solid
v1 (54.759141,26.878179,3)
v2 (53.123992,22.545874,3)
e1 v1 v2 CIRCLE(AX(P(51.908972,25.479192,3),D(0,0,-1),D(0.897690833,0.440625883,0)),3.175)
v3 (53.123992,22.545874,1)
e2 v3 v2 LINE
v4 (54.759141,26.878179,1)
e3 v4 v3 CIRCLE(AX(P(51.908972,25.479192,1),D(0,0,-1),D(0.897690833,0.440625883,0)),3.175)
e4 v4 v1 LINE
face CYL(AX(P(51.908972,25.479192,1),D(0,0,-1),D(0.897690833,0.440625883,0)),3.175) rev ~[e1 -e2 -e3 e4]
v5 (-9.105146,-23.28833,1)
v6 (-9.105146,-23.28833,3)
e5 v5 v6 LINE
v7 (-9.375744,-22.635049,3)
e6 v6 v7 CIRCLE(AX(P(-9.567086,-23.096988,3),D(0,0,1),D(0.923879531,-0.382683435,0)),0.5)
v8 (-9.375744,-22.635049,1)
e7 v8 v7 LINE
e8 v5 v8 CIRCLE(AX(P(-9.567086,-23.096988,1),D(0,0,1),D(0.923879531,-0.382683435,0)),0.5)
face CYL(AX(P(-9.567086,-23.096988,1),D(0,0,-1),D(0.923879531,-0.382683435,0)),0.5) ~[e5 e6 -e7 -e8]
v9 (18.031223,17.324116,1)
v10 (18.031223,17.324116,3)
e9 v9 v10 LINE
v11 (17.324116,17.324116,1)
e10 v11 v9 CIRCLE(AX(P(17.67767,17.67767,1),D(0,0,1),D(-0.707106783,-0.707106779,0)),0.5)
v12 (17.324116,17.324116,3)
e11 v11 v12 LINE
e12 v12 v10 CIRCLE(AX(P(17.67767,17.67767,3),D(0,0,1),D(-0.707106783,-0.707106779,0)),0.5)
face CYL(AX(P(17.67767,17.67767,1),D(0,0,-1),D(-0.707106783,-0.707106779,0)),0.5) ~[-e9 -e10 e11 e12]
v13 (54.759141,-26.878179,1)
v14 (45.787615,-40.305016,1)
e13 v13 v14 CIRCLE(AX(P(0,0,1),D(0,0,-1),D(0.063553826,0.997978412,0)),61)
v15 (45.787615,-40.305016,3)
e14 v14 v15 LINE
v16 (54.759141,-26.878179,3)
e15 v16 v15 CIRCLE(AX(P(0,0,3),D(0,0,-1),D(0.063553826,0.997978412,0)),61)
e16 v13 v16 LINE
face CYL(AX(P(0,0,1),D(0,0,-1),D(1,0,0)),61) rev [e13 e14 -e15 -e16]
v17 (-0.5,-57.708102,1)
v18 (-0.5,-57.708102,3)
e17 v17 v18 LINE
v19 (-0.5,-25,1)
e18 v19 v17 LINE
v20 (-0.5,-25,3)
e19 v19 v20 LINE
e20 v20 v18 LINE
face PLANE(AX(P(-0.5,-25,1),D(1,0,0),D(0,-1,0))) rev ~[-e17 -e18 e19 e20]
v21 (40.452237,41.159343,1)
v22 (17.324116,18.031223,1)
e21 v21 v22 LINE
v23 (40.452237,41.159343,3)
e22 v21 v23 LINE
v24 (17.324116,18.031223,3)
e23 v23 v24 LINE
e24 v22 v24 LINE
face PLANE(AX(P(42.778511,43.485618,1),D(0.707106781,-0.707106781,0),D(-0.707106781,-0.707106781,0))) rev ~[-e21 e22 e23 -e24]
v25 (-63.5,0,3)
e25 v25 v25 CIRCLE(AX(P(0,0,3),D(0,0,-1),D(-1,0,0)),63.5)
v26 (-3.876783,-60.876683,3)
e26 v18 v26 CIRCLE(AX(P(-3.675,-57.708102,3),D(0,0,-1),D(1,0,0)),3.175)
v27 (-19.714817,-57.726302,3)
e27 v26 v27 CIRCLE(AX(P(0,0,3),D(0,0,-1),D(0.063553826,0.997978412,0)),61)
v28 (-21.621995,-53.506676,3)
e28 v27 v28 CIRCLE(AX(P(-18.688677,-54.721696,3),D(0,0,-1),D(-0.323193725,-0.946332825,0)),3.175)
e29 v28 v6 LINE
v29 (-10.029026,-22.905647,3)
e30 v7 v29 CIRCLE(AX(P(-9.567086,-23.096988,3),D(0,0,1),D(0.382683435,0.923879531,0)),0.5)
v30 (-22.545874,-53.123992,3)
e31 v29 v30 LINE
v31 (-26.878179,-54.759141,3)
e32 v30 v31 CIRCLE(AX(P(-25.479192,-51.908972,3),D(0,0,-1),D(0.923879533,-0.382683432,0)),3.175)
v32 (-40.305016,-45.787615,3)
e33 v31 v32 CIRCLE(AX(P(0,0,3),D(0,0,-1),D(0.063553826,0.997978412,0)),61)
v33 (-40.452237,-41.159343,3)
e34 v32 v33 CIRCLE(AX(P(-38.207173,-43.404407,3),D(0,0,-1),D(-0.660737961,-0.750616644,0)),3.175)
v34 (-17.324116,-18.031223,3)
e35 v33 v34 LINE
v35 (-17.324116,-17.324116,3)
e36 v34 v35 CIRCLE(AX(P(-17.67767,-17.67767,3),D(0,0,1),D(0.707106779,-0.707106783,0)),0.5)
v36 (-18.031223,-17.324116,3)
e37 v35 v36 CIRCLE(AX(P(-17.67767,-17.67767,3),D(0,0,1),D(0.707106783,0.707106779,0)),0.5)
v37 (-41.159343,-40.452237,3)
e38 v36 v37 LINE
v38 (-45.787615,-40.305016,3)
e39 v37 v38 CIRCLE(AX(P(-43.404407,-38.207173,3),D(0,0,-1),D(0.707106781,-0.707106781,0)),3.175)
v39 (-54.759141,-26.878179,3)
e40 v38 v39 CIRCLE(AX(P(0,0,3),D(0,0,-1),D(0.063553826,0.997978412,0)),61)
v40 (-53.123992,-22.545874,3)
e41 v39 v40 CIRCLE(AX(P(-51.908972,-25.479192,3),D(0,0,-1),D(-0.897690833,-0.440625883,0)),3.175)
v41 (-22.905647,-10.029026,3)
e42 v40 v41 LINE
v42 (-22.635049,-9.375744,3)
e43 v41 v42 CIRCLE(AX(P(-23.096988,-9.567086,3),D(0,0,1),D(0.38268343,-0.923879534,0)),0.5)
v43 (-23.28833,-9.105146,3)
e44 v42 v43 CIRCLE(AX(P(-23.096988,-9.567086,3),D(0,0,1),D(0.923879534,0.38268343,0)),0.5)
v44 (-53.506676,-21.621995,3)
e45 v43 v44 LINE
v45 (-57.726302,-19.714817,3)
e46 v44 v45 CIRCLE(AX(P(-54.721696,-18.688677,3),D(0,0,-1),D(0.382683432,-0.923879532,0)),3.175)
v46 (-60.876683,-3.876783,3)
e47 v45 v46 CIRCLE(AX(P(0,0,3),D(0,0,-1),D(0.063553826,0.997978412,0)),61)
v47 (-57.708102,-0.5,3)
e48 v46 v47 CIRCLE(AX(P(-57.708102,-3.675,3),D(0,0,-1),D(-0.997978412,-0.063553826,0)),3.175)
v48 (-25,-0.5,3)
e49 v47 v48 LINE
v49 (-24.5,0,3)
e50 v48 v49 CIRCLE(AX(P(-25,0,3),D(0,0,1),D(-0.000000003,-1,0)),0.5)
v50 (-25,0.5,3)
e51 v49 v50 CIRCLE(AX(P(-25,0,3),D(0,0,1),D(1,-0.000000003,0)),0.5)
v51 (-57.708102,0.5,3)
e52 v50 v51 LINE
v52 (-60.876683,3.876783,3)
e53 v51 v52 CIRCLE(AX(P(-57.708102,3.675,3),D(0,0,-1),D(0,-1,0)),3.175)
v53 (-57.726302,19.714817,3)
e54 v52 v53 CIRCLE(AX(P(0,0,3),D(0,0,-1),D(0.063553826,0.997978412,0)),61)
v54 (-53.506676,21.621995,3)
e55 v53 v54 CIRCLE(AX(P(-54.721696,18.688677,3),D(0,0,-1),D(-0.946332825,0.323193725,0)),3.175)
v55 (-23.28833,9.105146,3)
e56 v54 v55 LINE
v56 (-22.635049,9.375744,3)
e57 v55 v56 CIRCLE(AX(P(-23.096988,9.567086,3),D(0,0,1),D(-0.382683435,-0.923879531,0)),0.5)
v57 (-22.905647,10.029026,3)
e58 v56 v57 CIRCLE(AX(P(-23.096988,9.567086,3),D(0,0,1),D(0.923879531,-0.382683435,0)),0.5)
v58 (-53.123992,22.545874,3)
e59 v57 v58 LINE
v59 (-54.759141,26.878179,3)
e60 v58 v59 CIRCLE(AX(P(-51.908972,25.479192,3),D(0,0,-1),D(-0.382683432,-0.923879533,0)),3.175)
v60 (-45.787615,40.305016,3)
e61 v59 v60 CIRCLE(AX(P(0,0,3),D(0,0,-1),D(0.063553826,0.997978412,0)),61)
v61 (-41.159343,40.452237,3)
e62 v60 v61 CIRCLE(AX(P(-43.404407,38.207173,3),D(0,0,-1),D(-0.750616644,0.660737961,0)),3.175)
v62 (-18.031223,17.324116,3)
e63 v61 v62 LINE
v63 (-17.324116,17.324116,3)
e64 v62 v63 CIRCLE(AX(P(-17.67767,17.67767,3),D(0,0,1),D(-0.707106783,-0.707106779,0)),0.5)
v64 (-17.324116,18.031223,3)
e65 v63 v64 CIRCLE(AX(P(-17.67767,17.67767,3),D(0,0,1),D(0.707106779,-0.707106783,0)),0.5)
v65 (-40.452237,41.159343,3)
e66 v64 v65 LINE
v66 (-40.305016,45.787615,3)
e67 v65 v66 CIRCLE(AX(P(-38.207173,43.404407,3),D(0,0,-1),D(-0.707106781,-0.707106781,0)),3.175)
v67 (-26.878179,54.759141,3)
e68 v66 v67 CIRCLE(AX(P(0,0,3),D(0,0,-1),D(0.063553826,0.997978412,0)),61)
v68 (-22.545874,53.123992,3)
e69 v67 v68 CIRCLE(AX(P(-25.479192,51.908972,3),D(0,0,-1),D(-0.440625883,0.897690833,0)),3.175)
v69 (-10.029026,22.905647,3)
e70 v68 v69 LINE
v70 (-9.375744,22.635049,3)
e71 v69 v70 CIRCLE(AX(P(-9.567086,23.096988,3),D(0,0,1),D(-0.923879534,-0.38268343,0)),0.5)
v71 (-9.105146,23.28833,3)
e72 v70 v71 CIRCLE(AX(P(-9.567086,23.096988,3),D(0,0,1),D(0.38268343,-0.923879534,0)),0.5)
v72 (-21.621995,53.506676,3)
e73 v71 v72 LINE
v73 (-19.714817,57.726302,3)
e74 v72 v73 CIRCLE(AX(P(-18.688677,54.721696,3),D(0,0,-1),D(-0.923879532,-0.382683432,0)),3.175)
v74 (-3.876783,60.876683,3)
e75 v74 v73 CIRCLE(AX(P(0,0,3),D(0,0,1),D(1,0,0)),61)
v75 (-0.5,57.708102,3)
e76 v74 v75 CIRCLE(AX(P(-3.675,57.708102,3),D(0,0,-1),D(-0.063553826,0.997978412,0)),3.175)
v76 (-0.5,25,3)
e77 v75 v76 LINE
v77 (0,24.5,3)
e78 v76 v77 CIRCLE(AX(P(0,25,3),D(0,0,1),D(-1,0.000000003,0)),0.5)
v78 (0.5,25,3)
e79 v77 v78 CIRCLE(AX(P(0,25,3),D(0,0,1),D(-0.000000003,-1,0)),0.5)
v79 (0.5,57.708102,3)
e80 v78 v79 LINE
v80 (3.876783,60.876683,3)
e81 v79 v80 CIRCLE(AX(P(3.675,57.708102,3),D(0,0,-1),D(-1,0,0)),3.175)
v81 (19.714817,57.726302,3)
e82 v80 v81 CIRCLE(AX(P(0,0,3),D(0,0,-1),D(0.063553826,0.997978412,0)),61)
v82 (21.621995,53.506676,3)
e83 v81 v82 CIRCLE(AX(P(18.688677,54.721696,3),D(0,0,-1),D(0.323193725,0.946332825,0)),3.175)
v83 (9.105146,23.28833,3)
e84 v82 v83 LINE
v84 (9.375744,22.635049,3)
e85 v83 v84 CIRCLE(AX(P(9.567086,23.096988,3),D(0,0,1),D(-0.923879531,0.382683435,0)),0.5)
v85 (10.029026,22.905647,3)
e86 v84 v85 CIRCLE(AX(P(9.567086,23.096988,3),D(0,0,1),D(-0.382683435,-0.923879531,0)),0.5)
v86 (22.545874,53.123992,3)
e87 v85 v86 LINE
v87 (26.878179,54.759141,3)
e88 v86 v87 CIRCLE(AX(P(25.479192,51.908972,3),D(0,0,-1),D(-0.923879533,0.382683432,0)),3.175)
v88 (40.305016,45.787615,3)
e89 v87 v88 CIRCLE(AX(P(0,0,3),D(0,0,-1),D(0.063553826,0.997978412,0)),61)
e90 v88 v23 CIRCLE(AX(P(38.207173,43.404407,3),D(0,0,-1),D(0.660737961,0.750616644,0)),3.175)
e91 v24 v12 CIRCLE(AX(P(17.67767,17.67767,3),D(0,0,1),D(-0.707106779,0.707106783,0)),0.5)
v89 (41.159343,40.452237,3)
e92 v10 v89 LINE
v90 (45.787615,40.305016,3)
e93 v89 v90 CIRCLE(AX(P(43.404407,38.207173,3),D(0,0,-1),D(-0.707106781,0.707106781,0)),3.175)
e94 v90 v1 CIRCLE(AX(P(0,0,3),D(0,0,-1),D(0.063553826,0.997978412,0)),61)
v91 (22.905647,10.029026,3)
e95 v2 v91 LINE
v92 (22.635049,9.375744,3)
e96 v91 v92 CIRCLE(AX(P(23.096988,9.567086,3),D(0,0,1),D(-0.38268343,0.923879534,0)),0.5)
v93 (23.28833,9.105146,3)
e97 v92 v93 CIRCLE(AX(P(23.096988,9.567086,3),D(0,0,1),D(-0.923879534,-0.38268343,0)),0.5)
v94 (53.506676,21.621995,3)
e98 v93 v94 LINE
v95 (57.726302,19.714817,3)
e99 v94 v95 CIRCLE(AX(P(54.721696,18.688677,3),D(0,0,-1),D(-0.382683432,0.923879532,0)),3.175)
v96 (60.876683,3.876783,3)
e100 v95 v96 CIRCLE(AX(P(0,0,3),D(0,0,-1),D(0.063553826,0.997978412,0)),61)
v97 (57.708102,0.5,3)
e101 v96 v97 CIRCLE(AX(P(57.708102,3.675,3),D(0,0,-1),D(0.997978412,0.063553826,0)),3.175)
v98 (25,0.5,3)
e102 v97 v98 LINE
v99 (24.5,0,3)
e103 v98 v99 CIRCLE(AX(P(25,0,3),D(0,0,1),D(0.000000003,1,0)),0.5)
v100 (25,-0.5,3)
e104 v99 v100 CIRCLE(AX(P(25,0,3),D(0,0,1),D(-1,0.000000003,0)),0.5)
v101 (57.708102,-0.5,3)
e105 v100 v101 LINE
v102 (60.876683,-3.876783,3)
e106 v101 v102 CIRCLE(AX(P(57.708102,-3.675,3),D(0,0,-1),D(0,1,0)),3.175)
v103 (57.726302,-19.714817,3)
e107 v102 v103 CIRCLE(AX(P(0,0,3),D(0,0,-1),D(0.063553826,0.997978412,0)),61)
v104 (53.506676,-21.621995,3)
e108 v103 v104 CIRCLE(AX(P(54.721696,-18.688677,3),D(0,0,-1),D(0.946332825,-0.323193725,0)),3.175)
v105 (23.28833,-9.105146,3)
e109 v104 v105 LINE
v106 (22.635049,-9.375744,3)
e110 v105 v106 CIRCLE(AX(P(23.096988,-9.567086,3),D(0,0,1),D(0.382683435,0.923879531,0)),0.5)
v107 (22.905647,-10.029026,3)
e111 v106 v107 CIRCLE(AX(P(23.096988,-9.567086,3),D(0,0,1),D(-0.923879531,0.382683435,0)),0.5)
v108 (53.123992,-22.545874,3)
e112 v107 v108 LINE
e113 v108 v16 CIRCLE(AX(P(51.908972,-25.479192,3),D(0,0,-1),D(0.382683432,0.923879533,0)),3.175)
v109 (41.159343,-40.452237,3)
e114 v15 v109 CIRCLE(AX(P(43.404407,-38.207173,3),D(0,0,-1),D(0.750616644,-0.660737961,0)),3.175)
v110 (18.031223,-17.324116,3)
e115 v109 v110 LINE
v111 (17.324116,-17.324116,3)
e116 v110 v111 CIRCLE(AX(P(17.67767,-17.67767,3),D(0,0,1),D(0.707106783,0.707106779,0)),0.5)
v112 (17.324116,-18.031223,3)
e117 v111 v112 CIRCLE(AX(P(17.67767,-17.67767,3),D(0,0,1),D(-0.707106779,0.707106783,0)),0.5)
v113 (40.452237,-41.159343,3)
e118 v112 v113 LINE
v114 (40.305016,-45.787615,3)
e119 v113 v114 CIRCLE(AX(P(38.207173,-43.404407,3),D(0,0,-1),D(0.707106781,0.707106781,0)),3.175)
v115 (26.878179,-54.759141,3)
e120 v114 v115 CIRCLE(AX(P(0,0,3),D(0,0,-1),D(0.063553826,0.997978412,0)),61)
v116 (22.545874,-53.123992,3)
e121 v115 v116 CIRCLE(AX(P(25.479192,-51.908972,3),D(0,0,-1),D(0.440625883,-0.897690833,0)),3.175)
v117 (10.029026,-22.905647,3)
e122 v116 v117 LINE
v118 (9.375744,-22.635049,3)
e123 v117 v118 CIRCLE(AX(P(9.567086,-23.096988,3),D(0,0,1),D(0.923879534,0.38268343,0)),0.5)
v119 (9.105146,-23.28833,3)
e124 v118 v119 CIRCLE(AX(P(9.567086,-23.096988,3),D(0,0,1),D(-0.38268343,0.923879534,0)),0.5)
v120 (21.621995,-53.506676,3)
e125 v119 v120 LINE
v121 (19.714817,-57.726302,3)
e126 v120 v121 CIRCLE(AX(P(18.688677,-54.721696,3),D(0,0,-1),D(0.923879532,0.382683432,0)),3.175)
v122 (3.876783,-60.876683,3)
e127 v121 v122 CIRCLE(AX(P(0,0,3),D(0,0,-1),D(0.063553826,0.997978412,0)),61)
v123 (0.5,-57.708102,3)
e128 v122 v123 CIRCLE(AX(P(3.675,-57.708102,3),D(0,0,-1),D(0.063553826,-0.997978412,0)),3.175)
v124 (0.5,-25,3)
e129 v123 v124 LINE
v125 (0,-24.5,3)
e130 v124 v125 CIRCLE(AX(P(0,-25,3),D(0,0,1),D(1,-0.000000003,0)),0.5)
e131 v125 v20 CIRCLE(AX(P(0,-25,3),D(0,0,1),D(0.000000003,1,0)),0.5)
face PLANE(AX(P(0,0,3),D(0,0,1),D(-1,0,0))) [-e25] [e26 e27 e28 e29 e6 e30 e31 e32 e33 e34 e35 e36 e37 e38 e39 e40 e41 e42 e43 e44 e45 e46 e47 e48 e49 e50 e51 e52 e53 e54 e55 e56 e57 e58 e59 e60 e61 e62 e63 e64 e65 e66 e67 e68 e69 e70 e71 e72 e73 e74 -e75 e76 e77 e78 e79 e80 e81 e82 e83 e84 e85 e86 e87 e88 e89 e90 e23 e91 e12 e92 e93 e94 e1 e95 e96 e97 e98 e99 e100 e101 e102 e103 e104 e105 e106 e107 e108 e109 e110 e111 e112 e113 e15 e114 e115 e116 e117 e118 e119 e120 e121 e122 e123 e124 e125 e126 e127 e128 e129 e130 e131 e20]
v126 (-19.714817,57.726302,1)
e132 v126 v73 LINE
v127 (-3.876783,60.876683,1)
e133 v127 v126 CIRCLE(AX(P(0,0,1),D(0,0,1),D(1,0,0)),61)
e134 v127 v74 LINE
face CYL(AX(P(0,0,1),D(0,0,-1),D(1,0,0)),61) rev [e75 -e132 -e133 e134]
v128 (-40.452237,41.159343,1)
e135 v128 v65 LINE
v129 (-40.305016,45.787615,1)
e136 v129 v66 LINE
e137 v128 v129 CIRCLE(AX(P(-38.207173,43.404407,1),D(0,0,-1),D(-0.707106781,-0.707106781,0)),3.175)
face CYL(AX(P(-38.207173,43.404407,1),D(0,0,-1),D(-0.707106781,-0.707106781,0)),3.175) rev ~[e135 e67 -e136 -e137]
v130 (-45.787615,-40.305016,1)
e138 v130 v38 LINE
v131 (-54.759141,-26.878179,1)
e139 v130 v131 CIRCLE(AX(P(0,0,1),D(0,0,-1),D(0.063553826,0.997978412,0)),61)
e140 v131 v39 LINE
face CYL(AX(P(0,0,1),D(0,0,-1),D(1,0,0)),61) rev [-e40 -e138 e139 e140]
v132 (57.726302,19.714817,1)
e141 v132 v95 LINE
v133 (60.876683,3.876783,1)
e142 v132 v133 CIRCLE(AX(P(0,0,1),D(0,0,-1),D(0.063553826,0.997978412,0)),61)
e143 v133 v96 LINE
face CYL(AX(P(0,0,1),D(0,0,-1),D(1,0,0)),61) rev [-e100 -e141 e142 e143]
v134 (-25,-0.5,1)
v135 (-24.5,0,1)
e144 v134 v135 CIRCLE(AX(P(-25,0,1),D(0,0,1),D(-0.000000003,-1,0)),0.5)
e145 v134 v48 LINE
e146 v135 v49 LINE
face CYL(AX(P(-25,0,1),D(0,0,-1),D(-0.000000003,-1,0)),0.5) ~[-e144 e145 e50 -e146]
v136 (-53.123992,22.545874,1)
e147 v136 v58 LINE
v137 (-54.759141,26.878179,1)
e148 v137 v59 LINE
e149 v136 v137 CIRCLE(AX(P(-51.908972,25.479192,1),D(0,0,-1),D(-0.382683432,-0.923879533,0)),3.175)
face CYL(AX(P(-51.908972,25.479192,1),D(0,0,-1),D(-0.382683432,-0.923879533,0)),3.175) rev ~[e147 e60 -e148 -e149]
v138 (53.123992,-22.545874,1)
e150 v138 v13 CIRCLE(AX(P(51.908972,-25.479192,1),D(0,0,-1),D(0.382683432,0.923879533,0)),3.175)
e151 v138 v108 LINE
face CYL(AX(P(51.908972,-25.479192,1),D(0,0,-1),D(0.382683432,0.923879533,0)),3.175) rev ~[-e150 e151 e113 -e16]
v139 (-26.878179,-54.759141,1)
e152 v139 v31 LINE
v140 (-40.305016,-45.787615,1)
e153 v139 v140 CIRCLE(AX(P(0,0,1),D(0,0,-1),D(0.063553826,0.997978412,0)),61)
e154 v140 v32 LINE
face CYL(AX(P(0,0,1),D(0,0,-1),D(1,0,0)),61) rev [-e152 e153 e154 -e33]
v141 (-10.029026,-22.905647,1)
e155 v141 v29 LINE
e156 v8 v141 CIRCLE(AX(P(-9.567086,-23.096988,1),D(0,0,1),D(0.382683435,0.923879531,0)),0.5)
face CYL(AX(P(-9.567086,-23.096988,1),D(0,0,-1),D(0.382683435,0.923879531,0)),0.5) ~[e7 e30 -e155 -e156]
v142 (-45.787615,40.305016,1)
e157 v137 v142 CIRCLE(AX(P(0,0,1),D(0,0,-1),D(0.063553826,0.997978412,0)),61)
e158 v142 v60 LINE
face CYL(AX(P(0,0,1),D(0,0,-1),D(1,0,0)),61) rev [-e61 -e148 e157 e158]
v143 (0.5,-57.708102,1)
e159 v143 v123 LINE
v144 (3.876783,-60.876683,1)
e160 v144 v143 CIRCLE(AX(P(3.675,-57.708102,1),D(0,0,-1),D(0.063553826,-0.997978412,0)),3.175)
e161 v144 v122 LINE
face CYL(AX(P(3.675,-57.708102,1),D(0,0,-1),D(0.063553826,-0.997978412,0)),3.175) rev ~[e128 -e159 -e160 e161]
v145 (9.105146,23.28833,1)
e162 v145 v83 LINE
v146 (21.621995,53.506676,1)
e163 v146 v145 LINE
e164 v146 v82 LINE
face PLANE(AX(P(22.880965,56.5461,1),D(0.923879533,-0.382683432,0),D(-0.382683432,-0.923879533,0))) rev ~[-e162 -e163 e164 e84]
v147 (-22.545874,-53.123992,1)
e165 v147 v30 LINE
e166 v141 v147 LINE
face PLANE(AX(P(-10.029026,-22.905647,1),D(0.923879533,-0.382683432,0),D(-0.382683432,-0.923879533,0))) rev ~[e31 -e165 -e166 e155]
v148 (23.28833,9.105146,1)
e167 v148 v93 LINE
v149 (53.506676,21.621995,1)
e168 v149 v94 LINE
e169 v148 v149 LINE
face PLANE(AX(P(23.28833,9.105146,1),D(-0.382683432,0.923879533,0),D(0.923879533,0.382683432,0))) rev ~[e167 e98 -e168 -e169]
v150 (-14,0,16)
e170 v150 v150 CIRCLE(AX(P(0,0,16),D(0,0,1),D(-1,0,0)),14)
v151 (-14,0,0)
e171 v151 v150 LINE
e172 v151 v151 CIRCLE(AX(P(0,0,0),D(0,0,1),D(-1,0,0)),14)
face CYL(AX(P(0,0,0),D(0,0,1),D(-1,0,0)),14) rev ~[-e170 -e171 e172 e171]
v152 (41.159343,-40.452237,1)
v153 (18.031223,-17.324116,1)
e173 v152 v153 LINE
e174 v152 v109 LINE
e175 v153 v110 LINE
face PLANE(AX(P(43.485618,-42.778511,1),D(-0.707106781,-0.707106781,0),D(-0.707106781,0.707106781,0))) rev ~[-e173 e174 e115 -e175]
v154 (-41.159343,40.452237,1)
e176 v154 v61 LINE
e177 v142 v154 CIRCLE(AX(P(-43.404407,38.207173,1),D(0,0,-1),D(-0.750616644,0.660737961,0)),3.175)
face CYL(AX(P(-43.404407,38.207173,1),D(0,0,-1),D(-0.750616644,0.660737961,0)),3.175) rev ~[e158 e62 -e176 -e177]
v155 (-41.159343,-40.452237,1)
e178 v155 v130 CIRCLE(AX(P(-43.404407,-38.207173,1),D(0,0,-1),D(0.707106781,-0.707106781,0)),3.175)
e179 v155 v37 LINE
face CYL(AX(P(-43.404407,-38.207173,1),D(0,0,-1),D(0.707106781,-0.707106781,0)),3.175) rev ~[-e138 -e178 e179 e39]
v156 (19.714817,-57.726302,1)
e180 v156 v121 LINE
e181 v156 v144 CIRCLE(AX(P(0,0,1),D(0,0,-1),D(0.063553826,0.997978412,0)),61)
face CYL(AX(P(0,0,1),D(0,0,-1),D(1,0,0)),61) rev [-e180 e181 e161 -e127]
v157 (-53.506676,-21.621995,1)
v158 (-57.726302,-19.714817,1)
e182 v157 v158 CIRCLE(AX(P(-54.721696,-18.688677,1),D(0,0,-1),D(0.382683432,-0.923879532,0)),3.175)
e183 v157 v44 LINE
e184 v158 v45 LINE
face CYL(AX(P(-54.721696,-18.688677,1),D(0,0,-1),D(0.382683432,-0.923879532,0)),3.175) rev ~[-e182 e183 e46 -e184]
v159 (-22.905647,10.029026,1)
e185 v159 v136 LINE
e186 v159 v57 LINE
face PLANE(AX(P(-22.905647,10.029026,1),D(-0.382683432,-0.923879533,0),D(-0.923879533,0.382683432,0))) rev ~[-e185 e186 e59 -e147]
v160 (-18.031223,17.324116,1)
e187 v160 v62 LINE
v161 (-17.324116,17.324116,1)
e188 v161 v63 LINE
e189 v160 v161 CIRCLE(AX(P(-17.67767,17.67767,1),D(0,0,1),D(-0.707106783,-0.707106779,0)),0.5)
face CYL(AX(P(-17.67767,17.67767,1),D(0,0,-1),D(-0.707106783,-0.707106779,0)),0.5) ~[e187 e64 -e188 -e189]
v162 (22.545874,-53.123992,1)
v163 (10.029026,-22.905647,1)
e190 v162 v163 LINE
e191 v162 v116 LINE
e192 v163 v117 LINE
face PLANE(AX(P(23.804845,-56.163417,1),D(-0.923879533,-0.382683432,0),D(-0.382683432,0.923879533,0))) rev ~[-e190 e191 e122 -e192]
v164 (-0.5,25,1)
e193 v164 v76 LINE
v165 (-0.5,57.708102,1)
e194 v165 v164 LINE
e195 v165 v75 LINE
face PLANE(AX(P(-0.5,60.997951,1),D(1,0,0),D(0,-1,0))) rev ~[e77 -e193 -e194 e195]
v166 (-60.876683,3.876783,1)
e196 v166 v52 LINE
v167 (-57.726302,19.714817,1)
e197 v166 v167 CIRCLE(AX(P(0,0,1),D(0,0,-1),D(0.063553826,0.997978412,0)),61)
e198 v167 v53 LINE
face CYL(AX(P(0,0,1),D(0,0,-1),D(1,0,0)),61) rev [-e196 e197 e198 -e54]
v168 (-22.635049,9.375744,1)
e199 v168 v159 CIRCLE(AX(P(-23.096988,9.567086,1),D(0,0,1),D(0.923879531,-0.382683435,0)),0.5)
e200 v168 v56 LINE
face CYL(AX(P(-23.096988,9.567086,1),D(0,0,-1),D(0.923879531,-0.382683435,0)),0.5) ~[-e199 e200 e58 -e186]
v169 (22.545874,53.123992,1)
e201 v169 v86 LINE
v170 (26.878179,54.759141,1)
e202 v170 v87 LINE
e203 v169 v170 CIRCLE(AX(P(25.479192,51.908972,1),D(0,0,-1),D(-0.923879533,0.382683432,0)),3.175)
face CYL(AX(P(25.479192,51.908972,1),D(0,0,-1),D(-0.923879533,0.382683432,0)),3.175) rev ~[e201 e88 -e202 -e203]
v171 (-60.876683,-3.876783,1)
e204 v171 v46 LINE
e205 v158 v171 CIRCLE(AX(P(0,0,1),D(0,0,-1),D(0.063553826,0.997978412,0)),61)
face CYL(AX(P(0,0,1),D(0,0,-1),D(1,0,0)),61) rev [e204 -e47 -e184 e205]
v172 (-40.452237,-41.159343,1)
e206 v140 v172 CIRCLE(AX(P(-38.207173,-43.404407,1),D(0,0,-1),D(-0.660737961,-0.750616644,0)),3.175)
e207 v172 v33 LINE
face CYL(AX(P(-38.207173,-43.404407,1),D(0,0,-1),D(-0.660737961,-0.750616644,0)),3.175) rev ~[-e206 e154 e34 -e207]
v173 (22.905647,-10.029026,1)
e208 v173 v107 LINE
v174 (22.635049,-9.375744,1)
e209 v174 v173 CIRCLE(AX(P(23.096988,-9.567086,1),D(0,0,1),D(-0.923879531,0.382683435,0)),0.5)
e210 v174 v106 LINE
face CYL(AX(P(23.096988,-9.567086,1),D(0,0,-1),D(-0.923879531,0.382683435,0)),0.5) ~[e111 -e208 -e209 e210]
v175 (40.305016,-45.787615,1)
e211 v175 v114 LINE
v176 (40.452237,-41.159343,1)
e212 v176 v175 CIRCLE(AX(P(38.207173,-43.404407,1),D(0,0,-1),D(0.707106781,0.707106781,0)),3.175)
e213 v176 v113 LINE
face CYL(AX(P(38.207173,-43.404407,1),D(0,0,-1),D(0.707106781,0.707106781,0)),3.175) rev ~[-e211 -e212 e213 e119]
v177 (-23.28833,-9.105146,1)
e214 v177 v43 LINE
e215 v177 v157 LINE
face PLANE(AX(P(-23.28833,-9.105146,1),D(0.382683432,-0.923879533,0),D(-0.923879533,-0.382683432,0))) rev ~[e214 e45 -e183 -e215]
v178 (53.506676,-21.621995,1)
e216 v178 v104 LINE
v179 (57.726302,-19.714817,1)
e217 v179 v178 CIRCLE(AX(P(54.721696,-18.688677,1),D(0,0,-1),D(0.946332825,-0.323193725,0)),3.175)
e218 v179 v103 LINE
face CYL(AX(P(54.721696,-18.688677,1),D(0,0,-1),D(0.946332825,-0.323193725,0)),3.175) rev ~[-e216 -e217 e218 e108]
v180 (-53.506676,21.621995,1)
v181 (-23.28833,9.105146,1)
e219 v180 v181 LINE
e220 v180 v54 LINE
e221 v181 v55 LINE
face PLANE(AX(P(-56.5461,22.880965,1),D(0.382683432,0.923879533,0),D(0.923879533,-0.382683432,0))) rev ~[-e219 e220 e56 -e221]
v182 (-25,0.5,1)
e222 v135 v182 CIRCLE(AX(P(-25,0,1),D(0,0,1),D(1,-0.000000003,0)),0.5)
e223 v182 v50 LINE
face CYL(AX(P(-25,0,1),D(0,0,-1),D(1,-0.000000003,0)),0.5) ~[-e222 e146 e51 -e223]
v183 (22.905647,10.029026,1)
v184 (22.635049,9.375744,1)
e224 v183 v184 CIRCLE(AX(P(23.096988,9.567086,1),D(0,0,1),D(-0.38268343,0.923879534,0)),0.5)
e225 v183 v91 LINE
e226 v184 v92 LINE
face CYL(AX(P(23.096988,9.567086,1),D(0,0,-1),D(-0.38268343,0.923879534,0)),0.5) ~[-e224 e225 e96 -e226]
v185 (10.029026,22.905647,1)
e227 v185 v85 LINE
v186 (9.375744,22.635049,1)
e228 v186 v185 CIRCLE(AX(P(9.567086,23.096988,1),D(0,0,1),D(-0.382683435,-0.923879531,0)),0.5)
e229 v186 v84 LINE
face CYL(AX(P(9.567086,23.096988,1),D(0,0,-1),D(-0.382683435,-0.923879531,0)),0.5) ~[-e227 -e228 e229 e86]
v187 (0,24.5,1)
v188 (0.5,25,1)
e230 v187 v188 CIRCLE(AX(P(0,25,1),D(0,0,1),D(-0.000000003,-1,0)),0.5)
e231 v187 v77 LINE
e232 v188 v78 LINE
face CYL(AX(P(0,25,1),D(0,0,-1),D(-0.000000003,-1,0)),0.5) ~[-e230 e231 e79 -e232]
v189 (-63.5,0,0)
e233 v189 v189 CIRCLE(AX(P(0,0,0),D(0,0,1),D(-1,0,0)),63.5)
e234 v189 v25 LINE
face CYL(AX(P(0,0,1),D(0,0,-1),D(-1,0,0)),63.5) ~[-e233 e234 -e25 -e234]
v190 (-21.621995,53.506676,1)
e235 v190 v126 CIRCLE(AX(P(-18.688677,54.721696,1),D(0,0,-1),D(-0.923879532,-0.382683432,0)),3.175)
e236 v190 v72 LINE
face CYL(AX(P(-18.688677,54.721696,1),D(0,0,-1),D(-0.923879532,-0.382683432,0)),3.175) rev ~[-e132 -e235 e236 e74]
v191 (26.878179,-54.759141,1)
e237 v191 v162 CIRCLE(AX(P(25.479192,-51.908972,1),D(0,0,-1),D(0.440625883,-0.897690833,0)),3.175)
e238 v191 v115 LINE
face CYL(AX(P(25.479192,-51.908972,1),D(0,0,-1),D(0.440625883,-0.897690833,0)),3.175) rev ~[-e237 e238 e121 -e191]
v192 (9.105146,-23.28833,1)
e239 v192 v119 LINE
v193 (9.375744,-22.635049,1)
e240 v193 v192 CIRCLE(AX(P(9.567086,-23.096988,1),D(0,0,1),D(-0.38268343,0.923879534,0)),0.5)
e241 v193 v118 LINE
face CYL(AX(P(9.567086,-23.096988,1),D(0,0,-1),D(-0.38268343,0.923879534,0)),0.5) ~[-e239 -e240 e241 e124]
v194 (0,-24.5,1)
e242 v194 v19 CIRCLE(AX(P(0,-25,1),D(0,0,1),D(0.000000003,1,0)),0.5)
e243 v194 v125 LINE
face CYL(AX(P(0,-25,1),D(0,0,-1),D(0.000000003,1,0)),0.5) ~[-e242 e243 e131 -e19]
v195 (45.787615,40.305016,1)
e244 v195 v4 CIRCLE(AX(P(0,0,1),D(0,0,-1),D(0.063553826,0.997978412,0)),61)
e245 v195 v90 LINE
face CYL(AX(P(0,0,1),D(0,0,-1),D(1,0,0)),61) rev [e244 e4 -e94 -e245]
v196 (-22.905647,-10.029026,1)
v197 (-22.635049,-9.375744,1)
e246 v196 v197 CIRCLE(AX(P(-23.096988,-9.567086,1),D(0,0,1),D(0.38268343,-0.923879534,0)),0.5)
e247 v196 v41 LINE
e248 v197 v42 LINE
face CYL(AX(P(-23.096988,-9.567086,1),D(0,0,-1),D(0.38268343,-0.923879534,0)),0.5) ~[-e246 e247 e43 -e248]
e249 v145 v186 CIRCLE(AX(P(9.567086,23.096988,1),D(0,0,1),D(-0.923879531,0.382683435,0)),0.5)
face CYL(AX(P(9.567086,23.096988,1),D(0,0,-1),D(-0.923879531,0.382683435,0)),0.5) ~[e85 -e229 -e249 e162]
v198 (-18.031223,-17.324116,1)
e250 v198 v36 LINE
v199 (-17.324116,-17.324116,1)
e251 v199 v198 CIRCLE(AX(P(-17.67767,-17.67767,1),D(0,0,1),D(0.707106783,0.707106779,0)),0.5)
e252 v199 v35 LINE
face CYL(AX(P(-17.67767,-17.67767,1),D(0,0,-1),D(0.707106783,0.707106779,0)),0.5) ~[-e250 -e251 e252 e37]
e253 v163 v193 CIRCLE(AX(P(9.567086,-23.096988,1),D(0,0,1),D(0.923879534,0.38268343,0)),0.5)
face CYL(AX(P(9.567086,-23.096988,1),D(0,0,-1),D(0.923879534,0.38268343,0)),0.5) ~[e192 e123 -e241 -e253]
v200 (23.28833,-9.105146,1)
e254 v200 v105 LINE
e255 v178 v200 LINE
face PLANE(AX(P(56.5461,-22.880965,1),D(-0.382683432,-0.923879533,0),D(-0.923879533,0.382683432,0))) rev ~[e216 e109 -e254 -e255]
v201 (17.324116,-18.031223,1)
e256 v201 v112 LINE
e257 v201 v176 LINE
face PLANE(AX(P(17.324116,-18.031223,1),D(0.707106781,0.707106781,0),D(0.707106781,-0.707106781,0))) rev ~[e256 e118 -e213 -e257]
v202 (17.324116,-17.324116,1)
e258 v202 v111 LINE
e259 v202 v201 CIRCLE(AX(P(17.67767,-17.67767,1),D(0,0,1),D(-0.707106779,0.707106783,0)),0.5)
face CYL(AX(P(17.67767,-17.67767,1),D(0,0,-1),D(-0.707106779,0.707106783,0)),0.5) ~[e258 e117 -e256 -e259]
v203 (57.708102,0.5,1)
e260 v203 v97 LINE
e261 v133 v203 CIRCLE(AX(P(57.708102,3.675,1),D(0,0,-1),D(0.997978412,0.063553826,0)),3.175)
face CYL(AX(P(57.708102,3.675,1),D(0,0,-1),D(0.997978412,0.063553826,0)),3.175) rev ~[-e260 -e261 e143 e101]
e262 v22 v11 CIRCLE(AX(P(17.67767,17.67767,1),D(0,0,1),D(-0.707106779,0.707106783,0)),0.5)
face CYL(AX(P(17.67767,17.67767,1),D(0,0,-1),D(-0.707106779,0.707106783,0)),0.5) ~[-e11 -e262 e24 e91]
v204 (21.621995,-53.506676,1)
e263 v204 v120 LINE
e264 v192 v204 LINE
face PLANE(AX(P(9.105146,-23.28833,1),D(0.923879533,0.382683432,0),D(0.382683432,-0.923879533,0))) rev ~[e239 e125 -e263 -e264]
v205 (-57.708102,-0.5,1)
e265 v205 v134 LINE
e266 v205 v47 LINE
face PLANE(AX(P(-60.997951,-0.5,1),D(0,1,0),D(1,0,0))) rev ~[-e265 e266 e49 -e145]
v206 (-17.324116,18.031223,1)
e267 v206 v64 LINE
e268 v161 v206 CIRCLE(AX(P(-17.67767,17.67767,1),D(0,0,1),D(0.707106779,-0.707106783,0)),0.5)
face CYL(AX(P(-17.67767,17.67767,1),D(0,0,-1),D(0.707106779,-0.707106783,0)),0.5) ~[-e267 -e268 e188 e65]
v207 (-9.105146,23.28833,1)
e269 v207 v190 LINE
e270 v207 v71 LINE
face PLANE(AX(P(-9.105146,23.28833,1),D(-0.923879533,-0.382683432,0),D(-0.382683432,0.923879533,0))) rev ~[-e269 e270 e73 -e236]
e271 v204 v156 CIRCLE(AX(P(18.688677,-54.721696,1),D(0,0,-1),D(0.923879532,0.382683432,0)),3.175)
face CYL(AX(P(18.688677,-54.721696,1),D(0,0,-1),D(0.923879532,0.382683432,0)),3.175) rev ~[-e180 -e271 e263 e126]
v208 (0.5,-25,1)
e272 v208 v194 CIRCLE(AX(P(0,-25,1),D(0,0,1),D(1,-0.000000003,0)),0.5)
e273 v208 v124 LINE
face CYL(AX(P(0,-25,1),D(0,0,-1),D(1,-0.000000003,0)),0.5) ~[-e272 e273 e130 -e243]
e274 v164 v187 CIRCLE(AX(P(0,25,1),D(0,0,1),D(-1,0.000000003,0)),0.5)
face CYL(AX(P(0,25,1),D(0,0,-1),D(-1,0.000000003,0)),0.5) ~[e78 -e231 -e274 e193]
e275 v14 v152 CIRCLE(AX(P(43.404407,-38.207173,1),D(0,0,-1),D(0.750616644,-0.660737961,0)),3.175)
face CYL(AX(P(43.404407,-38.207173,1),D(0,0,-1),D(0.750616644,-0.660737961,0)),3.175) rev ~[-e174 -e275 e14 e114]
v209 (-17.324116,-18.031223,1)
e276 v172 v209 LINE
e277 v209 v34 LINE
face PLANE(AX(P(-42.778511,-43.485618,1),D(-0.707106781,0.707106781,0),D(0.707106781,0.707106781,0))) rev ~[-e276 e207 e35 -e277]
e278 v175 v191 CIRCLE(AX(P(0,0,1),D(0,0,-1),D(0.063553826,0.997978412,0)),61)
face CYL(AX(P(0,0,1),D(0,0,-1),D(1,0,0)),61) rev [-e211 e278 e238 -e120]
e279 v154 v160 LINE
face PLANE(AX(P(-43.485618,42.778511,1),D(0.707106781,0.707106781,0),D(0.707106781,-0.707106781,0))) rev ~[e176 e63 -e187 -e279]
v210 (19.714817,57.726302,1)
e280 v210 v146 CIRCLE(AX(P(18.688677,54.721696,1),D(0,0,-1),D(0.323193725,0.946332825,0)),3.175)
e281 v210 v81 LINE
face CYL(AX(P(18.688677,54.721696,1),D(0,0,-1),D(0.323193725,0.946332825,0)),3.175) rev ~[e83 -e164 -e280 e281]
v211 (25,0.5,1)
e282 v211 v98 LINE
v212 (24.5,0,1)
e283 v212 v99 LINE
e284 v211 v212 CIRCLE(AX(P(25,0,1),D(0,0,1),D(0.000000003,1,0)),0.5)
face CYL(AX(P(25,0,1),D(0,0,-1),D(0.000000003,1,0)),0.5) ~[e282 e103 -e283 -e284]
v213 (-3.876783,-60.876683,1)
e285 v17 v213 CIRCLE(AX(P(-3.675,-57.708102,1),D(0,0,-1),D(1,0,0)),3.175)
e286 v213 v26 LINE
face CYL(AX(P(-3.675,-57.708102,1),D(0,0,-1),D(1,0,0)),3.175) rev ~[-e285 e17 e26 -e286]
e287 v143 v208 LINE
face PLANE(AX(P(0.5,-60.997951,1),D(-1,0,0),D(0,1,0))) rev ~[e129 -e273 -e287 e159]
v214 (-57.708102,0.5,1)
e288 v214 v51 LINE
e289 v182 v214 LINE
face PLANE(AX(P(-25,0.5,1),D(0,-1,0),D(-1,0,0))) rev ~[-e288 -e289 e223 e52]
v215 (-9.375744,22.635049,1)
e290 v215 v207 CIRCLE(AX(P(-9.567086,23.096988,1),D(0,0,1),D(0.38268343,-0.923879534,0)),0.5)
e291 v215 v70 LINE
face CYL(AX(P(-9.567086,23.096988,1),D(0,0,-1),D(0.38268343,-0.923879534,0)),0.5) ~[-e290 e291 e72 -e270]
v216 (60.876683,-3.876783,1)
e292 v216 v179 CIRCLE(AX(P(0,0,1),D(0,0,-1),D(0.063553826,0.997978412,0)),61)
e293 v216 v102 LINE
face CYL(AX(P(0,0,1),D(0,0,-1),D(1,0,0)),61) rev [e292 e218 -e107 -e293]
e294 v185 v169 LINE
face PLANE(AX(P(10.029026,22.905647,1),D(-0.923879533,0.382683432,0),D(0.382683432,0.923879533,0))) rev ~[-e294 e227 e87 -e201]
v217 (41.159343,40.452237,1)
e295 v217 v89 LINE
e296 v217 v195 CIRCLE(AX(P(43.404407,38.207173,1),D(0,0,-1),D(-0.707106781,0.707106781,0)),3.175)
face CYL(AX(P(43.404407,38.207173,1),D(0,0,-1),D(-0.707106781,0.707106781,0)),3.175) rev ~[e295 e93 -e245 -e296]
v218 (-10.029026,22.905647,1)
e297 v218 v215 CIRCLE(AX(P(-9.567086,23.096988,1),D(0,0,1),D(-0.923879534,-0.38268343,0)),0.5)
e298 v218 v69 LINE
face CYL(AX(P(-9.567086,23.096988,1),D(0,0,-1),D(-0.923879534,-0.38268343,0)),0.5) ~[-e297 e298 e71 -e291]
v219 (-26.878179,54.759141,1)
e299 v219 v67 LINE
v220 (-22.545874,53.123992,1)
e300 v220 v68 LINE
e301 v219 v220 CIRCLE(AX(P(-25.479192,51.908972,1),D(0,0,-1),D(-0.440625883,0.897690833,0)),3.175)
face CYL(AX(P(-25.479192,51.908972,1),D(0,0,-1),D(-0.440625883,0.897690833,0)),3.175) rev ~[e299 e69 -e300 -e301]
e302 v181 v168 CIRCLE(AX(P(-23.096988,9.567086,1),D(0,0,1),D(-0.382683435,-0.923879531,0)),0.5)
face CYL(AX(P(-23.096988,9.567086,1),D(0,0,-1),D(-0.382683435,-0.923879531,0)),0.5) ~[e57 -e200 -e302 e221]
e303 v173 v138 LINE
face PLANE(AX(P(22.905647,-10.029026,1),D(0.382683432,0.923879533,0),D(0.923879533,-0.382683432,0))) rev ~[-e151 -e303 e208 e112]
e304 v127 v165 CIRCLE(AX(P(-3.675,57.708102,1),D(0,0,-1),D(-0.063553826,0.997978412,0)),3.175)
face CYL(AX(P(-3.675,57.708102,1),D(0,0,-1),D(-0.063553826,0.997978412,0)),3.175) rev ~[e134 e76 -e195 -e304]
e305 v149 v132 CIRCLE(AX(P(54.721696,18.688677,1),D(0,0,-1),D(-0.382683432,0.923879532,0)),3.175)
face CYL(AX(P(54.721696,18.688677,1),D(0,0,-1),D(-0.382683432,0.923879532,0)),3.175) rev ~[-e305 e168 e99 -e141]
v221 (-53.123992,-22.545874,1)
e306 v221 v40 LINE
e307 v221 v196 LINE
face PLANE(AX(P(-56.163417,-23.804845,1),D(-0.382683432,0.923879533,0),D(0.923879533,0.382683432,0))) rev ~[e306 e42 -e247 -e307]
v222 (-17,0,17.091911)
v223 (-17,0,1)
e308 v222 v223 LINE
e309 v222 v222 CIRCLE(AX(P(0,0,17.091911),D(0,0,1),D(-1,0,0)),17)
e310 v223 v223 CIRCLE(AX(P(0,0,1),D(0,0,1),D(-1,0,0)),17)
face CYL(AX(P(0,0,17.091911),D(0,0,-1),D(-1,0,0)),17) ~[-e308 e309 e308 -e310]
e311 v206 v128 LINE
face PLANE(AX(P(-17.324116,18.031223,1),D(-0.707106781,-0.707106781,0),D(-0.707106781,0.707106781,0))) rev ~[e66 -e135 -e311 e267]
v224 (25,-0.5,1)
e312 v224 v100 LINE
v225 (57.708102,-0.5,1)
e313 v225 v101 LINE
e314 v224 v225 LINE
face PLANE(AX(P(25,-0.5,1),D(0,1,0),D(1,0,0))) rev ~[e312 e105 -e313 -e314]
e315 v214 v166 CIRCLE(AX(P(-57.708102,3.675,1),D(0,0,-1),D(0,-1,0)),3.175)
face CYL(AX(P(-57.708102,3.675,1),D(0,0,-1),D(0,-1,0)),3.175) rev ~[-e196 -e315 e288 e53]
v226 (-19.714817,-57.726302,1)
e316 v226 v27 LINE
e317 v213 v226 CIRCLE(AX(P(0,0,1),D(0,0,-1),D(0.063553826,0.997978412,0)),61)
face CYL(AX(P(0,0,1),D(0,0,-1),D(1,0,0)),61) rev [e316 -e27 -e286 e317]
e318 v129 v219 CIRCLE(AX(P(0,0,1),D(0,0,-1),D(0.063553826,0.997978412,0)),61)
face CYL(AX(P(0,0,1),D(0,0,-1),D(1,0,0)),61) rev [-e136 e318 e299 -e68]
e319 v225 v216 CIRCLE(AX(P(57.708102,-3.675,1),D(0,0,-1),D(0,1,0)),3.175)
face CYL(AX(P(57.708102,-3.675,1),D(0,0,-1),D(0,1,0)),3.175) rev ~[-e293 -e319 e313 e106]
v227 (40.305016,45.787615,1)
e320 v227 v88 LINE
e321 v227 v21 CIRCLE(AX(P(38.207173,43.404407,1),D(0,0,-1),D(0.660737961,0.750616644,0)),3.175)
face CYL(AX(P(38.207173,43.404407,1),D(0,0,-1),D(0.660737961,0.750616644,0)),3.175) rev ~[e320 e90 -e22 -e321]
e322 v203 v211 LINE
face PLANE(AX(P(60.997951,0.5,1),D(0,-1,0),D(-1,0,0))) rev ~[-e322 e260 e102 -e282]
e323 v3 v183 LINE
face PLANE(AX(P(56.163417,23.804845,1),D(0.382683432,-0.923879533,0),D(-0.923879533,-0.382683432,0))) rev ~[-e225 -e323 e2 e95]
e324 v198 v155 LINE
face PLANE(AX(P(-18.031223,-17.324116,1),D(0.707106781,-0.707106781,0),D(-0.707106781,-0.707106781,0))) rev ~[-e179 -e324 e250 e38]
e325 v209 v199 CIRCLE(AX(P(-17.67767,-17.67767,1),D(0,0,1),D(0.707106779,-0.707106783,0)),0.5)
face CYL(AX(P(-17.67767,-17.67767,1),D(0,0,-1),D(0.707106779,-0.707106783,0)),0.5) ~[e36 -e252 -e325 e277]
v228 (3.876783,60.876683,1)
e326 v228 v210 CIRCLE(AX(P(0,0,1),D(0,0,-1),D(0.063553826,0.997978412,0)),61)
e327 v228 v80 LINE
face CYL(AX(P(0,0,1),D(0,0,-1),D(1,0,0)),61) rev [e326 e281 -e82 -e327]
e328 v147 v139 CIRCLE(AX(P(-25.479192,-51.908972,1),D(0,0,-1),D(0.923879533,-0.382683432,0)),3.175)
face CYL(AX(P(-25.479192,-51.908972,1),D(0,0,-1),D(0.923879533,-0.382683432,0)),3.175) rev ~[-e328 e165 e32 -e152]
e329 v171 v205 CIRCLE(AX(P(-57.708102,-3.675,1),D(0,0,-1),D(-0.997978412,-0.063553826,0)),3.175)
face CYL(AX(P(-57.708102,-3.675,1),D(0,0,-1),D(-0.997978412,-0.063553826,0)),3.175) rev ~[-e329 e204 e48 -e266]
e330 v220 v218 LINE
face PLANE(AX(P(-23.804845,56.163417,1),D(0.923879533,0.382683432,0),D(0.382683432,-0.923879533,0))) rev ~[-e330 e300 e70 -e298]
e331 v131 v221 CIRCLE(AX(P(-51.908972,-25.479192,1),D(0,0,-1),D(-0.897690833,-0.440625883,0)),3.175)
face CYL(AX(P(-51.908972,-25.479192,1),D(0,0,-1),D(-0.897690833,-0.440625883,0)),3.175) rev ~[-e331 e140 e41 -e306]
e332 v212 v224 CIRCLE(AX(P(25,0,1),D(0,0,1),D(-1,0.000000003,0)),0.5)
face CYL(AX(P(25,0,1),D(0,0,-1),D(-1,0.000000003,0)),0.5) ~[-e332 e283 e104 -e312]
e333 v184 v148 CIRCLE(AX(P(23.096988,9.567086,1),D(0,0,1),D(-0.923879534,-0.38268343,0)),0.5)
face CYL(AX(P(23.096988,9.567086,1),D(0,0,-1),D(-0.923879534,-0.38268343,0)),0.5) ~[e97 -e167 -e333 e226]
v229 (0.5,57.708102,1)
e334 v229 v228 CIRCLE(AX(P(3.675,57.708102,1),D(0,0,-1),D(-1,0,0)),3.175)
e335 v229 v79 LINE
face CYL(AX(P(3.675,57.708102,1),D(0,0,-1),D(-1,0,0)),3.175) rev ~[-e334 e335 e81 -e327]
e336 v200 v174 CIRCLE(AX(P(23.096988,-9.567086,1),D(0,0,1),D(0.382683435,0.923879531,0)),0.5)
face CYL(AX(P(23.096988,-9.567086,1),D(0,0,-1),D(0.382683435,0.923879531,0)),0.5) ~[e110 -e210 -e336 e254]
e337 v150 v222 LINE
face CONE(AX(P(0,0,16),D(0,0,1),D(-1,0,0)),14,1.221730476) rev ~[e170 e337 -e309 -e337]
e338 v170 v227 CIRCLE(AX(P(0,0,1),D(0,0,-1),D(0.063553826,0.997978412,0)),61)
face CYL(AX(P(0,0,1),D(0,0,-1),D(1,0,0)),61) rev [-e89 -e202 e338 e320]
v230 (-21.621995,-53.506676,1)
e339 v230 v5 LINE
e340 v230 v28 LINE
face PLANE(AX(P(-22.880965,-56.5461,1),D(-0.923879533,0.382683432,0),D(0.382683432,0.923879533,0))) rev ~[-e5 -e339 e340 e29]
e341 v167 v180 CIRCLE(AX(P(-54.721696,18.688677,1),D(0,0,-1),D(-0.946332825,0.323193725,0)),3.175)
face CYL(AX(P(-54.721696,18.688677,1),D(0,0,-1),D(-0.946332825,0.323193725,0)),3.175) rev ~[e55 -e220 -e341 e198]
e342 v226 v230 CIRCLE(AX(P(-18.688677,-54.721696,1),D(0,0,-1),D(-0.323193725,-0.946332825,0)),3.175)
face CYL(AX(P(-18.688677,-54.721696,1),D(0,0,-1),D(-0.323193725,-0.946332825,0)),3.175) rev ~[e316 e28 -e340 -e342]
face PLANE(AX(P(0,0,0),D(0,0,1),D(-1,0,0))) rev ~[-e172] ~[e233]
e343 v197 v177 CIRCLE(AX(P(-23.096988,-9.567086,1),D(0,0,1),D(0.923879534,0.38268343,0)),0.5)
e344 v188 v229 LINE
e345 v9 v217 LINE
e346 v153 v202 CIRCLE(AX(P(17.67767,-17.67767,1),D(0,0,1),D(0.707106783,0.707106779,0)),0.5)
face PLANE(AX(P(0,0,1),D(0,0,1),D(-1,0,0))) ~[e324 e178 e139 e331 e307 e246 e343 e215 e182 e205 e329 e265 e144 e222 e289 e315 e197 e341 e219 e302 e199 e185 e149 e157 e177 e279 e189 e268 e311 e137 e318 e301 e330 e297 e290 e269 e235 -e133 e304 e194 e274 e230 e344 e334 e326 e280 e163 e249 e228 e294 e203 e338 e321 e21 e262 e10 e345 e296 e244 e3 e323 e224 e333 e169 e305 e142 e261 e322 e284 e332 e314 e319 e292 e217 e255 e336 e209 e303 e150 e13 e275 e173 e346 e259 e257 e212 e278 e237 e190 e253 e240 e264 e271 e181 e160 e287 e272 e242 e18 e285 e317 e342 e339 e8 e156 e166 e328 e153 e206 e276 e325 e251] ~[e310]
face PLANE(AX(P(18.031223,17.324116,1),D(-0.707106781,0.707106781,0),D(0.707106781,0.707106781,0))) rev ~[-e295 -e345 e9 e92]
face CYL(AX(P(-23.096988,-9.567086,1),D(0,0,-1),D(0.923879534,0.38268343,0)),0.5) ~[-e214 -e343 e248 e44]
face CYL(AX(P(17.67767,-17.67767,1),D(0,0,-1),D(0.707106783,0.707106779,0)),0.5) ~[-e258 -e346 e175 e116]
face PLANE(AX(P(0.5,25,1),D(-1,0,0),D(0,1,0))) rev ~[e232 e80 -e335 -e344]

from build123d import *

# Parameters (mm, degrees)
SKETCH2_R           = 63.5
SKETCH2_R_2         = 61
BOSS_EXTRUDE1_DEPTH = 2
CIRPATTERN1_COUNT   = 16


with BuildPart() as part:
    # Sketch1 → Revolve1 (revolve)
    with BuildSketch(Plane.YZ, mode=Mode.PRIVATE) as revolve1_sk:
        Polygon((14, 0), (14, 16), (17, 17.091910703), (17, 1), (63.5, 1), (63.5, 0), align=None)
    revolve(revolve1_sk.sketch.rotate(Axis((0, 0, 0), (0, 0, 1)), 90), axis=Axis((0, 0, 0), (0, 0, 1)))

    # Sketch2 → Boss-Extrude1 (add)
    # profile 1 of 5: a face of its own
    with BuildSketch(Plane.XY.offset(1)):
        with Locations(Location((0, 0, 0), (0, 0, 180))):
            Circle(SKETCH2_R)
        Circle(SKETCH2_R_2, mode=Mode.SUBTRACT)
    # profile 2 of 5: a face of its own
    with BuildSketch(Plane.XY.offset(1)):
        with BuildLine():
            Line((-0.5, 57.708101684), (-0.5, 25))
            ThreePointArc((-0.5, 25), (-0.353553391, 24.646446609), (0, 24.5))
            Line((0, 24.5), (0, 61))
            ThreePointArc((0, 61), (-0.2500021, 60.999487694), (-0.5, 60.997950785))
            Line((-0.5, 60.997950785), (-0.5, 57.708101684))
        make_face()
    # profile 3 of 5: a face of its own
    with BuildSketch(Plane.XY.offset(1)):
        with BuildLine():
            ThreePointArc((-3.876783398, 60.876683143), (-1.502448193, 60.023408067), (-0.5, 57.708101684))
            Line((-0.5, 57.708101684), (-0.5, 60.997950785))
            ThreePointArc((-0.5, 60.997950785), (-2.189231529, 60.960702631), (-3.876783398, 60.876683143))
        make_face()
    # profile 4 of 5: a face of its own
    with BuildSketch(Plane.XY.offset(1)):
        with BuildLine():
            ThreePointArc((3.876783398, 60.876683143), (2.189231529, 60.960702631), (0.5, 60.997950785))
            Line((0.5, 60.997950785), (0.5, 57.708101684))
            ThreePointArc((0.5, 57.708101684), (1.502448193, 60.023408067), (3.876783398, 60.876683143))
        make_face()
    # profile 5 of 5: a face of its own
    with BuildSketch(Plane.XY.offset(1)):
        with BuildLine():
            Line((0, 61), (0, 24.5))
            ThreePointArc((0, 24.5), (0.353553391, 24.646446609), (0.5, 25))
            Line((0.5, 25), (0.5, 57.708101684))
            Line((0.5, 57.708101684), (0.5, 60.997950785))
            ThreePointArc((0.5, 60.997950785), (0.2500021, 60.999487694), (0, 61))
        make_face()
    boss_extrude1 = extrude(amount=BOSS_EXTRUDE1_DEPTH)

    # CirPattern1: Boss-Extrude1 ×16 about axis
    cirpattern1_axis = Axis((0, 0, 0), (0, 0, 1))
    for i in range(1, CIRPATTERN1_COUNT):
        add(boss_extrude1.rotate(cirpattern1_axis, i * 360 / CIRPATTERN1_COUNT))


solid = part.part
